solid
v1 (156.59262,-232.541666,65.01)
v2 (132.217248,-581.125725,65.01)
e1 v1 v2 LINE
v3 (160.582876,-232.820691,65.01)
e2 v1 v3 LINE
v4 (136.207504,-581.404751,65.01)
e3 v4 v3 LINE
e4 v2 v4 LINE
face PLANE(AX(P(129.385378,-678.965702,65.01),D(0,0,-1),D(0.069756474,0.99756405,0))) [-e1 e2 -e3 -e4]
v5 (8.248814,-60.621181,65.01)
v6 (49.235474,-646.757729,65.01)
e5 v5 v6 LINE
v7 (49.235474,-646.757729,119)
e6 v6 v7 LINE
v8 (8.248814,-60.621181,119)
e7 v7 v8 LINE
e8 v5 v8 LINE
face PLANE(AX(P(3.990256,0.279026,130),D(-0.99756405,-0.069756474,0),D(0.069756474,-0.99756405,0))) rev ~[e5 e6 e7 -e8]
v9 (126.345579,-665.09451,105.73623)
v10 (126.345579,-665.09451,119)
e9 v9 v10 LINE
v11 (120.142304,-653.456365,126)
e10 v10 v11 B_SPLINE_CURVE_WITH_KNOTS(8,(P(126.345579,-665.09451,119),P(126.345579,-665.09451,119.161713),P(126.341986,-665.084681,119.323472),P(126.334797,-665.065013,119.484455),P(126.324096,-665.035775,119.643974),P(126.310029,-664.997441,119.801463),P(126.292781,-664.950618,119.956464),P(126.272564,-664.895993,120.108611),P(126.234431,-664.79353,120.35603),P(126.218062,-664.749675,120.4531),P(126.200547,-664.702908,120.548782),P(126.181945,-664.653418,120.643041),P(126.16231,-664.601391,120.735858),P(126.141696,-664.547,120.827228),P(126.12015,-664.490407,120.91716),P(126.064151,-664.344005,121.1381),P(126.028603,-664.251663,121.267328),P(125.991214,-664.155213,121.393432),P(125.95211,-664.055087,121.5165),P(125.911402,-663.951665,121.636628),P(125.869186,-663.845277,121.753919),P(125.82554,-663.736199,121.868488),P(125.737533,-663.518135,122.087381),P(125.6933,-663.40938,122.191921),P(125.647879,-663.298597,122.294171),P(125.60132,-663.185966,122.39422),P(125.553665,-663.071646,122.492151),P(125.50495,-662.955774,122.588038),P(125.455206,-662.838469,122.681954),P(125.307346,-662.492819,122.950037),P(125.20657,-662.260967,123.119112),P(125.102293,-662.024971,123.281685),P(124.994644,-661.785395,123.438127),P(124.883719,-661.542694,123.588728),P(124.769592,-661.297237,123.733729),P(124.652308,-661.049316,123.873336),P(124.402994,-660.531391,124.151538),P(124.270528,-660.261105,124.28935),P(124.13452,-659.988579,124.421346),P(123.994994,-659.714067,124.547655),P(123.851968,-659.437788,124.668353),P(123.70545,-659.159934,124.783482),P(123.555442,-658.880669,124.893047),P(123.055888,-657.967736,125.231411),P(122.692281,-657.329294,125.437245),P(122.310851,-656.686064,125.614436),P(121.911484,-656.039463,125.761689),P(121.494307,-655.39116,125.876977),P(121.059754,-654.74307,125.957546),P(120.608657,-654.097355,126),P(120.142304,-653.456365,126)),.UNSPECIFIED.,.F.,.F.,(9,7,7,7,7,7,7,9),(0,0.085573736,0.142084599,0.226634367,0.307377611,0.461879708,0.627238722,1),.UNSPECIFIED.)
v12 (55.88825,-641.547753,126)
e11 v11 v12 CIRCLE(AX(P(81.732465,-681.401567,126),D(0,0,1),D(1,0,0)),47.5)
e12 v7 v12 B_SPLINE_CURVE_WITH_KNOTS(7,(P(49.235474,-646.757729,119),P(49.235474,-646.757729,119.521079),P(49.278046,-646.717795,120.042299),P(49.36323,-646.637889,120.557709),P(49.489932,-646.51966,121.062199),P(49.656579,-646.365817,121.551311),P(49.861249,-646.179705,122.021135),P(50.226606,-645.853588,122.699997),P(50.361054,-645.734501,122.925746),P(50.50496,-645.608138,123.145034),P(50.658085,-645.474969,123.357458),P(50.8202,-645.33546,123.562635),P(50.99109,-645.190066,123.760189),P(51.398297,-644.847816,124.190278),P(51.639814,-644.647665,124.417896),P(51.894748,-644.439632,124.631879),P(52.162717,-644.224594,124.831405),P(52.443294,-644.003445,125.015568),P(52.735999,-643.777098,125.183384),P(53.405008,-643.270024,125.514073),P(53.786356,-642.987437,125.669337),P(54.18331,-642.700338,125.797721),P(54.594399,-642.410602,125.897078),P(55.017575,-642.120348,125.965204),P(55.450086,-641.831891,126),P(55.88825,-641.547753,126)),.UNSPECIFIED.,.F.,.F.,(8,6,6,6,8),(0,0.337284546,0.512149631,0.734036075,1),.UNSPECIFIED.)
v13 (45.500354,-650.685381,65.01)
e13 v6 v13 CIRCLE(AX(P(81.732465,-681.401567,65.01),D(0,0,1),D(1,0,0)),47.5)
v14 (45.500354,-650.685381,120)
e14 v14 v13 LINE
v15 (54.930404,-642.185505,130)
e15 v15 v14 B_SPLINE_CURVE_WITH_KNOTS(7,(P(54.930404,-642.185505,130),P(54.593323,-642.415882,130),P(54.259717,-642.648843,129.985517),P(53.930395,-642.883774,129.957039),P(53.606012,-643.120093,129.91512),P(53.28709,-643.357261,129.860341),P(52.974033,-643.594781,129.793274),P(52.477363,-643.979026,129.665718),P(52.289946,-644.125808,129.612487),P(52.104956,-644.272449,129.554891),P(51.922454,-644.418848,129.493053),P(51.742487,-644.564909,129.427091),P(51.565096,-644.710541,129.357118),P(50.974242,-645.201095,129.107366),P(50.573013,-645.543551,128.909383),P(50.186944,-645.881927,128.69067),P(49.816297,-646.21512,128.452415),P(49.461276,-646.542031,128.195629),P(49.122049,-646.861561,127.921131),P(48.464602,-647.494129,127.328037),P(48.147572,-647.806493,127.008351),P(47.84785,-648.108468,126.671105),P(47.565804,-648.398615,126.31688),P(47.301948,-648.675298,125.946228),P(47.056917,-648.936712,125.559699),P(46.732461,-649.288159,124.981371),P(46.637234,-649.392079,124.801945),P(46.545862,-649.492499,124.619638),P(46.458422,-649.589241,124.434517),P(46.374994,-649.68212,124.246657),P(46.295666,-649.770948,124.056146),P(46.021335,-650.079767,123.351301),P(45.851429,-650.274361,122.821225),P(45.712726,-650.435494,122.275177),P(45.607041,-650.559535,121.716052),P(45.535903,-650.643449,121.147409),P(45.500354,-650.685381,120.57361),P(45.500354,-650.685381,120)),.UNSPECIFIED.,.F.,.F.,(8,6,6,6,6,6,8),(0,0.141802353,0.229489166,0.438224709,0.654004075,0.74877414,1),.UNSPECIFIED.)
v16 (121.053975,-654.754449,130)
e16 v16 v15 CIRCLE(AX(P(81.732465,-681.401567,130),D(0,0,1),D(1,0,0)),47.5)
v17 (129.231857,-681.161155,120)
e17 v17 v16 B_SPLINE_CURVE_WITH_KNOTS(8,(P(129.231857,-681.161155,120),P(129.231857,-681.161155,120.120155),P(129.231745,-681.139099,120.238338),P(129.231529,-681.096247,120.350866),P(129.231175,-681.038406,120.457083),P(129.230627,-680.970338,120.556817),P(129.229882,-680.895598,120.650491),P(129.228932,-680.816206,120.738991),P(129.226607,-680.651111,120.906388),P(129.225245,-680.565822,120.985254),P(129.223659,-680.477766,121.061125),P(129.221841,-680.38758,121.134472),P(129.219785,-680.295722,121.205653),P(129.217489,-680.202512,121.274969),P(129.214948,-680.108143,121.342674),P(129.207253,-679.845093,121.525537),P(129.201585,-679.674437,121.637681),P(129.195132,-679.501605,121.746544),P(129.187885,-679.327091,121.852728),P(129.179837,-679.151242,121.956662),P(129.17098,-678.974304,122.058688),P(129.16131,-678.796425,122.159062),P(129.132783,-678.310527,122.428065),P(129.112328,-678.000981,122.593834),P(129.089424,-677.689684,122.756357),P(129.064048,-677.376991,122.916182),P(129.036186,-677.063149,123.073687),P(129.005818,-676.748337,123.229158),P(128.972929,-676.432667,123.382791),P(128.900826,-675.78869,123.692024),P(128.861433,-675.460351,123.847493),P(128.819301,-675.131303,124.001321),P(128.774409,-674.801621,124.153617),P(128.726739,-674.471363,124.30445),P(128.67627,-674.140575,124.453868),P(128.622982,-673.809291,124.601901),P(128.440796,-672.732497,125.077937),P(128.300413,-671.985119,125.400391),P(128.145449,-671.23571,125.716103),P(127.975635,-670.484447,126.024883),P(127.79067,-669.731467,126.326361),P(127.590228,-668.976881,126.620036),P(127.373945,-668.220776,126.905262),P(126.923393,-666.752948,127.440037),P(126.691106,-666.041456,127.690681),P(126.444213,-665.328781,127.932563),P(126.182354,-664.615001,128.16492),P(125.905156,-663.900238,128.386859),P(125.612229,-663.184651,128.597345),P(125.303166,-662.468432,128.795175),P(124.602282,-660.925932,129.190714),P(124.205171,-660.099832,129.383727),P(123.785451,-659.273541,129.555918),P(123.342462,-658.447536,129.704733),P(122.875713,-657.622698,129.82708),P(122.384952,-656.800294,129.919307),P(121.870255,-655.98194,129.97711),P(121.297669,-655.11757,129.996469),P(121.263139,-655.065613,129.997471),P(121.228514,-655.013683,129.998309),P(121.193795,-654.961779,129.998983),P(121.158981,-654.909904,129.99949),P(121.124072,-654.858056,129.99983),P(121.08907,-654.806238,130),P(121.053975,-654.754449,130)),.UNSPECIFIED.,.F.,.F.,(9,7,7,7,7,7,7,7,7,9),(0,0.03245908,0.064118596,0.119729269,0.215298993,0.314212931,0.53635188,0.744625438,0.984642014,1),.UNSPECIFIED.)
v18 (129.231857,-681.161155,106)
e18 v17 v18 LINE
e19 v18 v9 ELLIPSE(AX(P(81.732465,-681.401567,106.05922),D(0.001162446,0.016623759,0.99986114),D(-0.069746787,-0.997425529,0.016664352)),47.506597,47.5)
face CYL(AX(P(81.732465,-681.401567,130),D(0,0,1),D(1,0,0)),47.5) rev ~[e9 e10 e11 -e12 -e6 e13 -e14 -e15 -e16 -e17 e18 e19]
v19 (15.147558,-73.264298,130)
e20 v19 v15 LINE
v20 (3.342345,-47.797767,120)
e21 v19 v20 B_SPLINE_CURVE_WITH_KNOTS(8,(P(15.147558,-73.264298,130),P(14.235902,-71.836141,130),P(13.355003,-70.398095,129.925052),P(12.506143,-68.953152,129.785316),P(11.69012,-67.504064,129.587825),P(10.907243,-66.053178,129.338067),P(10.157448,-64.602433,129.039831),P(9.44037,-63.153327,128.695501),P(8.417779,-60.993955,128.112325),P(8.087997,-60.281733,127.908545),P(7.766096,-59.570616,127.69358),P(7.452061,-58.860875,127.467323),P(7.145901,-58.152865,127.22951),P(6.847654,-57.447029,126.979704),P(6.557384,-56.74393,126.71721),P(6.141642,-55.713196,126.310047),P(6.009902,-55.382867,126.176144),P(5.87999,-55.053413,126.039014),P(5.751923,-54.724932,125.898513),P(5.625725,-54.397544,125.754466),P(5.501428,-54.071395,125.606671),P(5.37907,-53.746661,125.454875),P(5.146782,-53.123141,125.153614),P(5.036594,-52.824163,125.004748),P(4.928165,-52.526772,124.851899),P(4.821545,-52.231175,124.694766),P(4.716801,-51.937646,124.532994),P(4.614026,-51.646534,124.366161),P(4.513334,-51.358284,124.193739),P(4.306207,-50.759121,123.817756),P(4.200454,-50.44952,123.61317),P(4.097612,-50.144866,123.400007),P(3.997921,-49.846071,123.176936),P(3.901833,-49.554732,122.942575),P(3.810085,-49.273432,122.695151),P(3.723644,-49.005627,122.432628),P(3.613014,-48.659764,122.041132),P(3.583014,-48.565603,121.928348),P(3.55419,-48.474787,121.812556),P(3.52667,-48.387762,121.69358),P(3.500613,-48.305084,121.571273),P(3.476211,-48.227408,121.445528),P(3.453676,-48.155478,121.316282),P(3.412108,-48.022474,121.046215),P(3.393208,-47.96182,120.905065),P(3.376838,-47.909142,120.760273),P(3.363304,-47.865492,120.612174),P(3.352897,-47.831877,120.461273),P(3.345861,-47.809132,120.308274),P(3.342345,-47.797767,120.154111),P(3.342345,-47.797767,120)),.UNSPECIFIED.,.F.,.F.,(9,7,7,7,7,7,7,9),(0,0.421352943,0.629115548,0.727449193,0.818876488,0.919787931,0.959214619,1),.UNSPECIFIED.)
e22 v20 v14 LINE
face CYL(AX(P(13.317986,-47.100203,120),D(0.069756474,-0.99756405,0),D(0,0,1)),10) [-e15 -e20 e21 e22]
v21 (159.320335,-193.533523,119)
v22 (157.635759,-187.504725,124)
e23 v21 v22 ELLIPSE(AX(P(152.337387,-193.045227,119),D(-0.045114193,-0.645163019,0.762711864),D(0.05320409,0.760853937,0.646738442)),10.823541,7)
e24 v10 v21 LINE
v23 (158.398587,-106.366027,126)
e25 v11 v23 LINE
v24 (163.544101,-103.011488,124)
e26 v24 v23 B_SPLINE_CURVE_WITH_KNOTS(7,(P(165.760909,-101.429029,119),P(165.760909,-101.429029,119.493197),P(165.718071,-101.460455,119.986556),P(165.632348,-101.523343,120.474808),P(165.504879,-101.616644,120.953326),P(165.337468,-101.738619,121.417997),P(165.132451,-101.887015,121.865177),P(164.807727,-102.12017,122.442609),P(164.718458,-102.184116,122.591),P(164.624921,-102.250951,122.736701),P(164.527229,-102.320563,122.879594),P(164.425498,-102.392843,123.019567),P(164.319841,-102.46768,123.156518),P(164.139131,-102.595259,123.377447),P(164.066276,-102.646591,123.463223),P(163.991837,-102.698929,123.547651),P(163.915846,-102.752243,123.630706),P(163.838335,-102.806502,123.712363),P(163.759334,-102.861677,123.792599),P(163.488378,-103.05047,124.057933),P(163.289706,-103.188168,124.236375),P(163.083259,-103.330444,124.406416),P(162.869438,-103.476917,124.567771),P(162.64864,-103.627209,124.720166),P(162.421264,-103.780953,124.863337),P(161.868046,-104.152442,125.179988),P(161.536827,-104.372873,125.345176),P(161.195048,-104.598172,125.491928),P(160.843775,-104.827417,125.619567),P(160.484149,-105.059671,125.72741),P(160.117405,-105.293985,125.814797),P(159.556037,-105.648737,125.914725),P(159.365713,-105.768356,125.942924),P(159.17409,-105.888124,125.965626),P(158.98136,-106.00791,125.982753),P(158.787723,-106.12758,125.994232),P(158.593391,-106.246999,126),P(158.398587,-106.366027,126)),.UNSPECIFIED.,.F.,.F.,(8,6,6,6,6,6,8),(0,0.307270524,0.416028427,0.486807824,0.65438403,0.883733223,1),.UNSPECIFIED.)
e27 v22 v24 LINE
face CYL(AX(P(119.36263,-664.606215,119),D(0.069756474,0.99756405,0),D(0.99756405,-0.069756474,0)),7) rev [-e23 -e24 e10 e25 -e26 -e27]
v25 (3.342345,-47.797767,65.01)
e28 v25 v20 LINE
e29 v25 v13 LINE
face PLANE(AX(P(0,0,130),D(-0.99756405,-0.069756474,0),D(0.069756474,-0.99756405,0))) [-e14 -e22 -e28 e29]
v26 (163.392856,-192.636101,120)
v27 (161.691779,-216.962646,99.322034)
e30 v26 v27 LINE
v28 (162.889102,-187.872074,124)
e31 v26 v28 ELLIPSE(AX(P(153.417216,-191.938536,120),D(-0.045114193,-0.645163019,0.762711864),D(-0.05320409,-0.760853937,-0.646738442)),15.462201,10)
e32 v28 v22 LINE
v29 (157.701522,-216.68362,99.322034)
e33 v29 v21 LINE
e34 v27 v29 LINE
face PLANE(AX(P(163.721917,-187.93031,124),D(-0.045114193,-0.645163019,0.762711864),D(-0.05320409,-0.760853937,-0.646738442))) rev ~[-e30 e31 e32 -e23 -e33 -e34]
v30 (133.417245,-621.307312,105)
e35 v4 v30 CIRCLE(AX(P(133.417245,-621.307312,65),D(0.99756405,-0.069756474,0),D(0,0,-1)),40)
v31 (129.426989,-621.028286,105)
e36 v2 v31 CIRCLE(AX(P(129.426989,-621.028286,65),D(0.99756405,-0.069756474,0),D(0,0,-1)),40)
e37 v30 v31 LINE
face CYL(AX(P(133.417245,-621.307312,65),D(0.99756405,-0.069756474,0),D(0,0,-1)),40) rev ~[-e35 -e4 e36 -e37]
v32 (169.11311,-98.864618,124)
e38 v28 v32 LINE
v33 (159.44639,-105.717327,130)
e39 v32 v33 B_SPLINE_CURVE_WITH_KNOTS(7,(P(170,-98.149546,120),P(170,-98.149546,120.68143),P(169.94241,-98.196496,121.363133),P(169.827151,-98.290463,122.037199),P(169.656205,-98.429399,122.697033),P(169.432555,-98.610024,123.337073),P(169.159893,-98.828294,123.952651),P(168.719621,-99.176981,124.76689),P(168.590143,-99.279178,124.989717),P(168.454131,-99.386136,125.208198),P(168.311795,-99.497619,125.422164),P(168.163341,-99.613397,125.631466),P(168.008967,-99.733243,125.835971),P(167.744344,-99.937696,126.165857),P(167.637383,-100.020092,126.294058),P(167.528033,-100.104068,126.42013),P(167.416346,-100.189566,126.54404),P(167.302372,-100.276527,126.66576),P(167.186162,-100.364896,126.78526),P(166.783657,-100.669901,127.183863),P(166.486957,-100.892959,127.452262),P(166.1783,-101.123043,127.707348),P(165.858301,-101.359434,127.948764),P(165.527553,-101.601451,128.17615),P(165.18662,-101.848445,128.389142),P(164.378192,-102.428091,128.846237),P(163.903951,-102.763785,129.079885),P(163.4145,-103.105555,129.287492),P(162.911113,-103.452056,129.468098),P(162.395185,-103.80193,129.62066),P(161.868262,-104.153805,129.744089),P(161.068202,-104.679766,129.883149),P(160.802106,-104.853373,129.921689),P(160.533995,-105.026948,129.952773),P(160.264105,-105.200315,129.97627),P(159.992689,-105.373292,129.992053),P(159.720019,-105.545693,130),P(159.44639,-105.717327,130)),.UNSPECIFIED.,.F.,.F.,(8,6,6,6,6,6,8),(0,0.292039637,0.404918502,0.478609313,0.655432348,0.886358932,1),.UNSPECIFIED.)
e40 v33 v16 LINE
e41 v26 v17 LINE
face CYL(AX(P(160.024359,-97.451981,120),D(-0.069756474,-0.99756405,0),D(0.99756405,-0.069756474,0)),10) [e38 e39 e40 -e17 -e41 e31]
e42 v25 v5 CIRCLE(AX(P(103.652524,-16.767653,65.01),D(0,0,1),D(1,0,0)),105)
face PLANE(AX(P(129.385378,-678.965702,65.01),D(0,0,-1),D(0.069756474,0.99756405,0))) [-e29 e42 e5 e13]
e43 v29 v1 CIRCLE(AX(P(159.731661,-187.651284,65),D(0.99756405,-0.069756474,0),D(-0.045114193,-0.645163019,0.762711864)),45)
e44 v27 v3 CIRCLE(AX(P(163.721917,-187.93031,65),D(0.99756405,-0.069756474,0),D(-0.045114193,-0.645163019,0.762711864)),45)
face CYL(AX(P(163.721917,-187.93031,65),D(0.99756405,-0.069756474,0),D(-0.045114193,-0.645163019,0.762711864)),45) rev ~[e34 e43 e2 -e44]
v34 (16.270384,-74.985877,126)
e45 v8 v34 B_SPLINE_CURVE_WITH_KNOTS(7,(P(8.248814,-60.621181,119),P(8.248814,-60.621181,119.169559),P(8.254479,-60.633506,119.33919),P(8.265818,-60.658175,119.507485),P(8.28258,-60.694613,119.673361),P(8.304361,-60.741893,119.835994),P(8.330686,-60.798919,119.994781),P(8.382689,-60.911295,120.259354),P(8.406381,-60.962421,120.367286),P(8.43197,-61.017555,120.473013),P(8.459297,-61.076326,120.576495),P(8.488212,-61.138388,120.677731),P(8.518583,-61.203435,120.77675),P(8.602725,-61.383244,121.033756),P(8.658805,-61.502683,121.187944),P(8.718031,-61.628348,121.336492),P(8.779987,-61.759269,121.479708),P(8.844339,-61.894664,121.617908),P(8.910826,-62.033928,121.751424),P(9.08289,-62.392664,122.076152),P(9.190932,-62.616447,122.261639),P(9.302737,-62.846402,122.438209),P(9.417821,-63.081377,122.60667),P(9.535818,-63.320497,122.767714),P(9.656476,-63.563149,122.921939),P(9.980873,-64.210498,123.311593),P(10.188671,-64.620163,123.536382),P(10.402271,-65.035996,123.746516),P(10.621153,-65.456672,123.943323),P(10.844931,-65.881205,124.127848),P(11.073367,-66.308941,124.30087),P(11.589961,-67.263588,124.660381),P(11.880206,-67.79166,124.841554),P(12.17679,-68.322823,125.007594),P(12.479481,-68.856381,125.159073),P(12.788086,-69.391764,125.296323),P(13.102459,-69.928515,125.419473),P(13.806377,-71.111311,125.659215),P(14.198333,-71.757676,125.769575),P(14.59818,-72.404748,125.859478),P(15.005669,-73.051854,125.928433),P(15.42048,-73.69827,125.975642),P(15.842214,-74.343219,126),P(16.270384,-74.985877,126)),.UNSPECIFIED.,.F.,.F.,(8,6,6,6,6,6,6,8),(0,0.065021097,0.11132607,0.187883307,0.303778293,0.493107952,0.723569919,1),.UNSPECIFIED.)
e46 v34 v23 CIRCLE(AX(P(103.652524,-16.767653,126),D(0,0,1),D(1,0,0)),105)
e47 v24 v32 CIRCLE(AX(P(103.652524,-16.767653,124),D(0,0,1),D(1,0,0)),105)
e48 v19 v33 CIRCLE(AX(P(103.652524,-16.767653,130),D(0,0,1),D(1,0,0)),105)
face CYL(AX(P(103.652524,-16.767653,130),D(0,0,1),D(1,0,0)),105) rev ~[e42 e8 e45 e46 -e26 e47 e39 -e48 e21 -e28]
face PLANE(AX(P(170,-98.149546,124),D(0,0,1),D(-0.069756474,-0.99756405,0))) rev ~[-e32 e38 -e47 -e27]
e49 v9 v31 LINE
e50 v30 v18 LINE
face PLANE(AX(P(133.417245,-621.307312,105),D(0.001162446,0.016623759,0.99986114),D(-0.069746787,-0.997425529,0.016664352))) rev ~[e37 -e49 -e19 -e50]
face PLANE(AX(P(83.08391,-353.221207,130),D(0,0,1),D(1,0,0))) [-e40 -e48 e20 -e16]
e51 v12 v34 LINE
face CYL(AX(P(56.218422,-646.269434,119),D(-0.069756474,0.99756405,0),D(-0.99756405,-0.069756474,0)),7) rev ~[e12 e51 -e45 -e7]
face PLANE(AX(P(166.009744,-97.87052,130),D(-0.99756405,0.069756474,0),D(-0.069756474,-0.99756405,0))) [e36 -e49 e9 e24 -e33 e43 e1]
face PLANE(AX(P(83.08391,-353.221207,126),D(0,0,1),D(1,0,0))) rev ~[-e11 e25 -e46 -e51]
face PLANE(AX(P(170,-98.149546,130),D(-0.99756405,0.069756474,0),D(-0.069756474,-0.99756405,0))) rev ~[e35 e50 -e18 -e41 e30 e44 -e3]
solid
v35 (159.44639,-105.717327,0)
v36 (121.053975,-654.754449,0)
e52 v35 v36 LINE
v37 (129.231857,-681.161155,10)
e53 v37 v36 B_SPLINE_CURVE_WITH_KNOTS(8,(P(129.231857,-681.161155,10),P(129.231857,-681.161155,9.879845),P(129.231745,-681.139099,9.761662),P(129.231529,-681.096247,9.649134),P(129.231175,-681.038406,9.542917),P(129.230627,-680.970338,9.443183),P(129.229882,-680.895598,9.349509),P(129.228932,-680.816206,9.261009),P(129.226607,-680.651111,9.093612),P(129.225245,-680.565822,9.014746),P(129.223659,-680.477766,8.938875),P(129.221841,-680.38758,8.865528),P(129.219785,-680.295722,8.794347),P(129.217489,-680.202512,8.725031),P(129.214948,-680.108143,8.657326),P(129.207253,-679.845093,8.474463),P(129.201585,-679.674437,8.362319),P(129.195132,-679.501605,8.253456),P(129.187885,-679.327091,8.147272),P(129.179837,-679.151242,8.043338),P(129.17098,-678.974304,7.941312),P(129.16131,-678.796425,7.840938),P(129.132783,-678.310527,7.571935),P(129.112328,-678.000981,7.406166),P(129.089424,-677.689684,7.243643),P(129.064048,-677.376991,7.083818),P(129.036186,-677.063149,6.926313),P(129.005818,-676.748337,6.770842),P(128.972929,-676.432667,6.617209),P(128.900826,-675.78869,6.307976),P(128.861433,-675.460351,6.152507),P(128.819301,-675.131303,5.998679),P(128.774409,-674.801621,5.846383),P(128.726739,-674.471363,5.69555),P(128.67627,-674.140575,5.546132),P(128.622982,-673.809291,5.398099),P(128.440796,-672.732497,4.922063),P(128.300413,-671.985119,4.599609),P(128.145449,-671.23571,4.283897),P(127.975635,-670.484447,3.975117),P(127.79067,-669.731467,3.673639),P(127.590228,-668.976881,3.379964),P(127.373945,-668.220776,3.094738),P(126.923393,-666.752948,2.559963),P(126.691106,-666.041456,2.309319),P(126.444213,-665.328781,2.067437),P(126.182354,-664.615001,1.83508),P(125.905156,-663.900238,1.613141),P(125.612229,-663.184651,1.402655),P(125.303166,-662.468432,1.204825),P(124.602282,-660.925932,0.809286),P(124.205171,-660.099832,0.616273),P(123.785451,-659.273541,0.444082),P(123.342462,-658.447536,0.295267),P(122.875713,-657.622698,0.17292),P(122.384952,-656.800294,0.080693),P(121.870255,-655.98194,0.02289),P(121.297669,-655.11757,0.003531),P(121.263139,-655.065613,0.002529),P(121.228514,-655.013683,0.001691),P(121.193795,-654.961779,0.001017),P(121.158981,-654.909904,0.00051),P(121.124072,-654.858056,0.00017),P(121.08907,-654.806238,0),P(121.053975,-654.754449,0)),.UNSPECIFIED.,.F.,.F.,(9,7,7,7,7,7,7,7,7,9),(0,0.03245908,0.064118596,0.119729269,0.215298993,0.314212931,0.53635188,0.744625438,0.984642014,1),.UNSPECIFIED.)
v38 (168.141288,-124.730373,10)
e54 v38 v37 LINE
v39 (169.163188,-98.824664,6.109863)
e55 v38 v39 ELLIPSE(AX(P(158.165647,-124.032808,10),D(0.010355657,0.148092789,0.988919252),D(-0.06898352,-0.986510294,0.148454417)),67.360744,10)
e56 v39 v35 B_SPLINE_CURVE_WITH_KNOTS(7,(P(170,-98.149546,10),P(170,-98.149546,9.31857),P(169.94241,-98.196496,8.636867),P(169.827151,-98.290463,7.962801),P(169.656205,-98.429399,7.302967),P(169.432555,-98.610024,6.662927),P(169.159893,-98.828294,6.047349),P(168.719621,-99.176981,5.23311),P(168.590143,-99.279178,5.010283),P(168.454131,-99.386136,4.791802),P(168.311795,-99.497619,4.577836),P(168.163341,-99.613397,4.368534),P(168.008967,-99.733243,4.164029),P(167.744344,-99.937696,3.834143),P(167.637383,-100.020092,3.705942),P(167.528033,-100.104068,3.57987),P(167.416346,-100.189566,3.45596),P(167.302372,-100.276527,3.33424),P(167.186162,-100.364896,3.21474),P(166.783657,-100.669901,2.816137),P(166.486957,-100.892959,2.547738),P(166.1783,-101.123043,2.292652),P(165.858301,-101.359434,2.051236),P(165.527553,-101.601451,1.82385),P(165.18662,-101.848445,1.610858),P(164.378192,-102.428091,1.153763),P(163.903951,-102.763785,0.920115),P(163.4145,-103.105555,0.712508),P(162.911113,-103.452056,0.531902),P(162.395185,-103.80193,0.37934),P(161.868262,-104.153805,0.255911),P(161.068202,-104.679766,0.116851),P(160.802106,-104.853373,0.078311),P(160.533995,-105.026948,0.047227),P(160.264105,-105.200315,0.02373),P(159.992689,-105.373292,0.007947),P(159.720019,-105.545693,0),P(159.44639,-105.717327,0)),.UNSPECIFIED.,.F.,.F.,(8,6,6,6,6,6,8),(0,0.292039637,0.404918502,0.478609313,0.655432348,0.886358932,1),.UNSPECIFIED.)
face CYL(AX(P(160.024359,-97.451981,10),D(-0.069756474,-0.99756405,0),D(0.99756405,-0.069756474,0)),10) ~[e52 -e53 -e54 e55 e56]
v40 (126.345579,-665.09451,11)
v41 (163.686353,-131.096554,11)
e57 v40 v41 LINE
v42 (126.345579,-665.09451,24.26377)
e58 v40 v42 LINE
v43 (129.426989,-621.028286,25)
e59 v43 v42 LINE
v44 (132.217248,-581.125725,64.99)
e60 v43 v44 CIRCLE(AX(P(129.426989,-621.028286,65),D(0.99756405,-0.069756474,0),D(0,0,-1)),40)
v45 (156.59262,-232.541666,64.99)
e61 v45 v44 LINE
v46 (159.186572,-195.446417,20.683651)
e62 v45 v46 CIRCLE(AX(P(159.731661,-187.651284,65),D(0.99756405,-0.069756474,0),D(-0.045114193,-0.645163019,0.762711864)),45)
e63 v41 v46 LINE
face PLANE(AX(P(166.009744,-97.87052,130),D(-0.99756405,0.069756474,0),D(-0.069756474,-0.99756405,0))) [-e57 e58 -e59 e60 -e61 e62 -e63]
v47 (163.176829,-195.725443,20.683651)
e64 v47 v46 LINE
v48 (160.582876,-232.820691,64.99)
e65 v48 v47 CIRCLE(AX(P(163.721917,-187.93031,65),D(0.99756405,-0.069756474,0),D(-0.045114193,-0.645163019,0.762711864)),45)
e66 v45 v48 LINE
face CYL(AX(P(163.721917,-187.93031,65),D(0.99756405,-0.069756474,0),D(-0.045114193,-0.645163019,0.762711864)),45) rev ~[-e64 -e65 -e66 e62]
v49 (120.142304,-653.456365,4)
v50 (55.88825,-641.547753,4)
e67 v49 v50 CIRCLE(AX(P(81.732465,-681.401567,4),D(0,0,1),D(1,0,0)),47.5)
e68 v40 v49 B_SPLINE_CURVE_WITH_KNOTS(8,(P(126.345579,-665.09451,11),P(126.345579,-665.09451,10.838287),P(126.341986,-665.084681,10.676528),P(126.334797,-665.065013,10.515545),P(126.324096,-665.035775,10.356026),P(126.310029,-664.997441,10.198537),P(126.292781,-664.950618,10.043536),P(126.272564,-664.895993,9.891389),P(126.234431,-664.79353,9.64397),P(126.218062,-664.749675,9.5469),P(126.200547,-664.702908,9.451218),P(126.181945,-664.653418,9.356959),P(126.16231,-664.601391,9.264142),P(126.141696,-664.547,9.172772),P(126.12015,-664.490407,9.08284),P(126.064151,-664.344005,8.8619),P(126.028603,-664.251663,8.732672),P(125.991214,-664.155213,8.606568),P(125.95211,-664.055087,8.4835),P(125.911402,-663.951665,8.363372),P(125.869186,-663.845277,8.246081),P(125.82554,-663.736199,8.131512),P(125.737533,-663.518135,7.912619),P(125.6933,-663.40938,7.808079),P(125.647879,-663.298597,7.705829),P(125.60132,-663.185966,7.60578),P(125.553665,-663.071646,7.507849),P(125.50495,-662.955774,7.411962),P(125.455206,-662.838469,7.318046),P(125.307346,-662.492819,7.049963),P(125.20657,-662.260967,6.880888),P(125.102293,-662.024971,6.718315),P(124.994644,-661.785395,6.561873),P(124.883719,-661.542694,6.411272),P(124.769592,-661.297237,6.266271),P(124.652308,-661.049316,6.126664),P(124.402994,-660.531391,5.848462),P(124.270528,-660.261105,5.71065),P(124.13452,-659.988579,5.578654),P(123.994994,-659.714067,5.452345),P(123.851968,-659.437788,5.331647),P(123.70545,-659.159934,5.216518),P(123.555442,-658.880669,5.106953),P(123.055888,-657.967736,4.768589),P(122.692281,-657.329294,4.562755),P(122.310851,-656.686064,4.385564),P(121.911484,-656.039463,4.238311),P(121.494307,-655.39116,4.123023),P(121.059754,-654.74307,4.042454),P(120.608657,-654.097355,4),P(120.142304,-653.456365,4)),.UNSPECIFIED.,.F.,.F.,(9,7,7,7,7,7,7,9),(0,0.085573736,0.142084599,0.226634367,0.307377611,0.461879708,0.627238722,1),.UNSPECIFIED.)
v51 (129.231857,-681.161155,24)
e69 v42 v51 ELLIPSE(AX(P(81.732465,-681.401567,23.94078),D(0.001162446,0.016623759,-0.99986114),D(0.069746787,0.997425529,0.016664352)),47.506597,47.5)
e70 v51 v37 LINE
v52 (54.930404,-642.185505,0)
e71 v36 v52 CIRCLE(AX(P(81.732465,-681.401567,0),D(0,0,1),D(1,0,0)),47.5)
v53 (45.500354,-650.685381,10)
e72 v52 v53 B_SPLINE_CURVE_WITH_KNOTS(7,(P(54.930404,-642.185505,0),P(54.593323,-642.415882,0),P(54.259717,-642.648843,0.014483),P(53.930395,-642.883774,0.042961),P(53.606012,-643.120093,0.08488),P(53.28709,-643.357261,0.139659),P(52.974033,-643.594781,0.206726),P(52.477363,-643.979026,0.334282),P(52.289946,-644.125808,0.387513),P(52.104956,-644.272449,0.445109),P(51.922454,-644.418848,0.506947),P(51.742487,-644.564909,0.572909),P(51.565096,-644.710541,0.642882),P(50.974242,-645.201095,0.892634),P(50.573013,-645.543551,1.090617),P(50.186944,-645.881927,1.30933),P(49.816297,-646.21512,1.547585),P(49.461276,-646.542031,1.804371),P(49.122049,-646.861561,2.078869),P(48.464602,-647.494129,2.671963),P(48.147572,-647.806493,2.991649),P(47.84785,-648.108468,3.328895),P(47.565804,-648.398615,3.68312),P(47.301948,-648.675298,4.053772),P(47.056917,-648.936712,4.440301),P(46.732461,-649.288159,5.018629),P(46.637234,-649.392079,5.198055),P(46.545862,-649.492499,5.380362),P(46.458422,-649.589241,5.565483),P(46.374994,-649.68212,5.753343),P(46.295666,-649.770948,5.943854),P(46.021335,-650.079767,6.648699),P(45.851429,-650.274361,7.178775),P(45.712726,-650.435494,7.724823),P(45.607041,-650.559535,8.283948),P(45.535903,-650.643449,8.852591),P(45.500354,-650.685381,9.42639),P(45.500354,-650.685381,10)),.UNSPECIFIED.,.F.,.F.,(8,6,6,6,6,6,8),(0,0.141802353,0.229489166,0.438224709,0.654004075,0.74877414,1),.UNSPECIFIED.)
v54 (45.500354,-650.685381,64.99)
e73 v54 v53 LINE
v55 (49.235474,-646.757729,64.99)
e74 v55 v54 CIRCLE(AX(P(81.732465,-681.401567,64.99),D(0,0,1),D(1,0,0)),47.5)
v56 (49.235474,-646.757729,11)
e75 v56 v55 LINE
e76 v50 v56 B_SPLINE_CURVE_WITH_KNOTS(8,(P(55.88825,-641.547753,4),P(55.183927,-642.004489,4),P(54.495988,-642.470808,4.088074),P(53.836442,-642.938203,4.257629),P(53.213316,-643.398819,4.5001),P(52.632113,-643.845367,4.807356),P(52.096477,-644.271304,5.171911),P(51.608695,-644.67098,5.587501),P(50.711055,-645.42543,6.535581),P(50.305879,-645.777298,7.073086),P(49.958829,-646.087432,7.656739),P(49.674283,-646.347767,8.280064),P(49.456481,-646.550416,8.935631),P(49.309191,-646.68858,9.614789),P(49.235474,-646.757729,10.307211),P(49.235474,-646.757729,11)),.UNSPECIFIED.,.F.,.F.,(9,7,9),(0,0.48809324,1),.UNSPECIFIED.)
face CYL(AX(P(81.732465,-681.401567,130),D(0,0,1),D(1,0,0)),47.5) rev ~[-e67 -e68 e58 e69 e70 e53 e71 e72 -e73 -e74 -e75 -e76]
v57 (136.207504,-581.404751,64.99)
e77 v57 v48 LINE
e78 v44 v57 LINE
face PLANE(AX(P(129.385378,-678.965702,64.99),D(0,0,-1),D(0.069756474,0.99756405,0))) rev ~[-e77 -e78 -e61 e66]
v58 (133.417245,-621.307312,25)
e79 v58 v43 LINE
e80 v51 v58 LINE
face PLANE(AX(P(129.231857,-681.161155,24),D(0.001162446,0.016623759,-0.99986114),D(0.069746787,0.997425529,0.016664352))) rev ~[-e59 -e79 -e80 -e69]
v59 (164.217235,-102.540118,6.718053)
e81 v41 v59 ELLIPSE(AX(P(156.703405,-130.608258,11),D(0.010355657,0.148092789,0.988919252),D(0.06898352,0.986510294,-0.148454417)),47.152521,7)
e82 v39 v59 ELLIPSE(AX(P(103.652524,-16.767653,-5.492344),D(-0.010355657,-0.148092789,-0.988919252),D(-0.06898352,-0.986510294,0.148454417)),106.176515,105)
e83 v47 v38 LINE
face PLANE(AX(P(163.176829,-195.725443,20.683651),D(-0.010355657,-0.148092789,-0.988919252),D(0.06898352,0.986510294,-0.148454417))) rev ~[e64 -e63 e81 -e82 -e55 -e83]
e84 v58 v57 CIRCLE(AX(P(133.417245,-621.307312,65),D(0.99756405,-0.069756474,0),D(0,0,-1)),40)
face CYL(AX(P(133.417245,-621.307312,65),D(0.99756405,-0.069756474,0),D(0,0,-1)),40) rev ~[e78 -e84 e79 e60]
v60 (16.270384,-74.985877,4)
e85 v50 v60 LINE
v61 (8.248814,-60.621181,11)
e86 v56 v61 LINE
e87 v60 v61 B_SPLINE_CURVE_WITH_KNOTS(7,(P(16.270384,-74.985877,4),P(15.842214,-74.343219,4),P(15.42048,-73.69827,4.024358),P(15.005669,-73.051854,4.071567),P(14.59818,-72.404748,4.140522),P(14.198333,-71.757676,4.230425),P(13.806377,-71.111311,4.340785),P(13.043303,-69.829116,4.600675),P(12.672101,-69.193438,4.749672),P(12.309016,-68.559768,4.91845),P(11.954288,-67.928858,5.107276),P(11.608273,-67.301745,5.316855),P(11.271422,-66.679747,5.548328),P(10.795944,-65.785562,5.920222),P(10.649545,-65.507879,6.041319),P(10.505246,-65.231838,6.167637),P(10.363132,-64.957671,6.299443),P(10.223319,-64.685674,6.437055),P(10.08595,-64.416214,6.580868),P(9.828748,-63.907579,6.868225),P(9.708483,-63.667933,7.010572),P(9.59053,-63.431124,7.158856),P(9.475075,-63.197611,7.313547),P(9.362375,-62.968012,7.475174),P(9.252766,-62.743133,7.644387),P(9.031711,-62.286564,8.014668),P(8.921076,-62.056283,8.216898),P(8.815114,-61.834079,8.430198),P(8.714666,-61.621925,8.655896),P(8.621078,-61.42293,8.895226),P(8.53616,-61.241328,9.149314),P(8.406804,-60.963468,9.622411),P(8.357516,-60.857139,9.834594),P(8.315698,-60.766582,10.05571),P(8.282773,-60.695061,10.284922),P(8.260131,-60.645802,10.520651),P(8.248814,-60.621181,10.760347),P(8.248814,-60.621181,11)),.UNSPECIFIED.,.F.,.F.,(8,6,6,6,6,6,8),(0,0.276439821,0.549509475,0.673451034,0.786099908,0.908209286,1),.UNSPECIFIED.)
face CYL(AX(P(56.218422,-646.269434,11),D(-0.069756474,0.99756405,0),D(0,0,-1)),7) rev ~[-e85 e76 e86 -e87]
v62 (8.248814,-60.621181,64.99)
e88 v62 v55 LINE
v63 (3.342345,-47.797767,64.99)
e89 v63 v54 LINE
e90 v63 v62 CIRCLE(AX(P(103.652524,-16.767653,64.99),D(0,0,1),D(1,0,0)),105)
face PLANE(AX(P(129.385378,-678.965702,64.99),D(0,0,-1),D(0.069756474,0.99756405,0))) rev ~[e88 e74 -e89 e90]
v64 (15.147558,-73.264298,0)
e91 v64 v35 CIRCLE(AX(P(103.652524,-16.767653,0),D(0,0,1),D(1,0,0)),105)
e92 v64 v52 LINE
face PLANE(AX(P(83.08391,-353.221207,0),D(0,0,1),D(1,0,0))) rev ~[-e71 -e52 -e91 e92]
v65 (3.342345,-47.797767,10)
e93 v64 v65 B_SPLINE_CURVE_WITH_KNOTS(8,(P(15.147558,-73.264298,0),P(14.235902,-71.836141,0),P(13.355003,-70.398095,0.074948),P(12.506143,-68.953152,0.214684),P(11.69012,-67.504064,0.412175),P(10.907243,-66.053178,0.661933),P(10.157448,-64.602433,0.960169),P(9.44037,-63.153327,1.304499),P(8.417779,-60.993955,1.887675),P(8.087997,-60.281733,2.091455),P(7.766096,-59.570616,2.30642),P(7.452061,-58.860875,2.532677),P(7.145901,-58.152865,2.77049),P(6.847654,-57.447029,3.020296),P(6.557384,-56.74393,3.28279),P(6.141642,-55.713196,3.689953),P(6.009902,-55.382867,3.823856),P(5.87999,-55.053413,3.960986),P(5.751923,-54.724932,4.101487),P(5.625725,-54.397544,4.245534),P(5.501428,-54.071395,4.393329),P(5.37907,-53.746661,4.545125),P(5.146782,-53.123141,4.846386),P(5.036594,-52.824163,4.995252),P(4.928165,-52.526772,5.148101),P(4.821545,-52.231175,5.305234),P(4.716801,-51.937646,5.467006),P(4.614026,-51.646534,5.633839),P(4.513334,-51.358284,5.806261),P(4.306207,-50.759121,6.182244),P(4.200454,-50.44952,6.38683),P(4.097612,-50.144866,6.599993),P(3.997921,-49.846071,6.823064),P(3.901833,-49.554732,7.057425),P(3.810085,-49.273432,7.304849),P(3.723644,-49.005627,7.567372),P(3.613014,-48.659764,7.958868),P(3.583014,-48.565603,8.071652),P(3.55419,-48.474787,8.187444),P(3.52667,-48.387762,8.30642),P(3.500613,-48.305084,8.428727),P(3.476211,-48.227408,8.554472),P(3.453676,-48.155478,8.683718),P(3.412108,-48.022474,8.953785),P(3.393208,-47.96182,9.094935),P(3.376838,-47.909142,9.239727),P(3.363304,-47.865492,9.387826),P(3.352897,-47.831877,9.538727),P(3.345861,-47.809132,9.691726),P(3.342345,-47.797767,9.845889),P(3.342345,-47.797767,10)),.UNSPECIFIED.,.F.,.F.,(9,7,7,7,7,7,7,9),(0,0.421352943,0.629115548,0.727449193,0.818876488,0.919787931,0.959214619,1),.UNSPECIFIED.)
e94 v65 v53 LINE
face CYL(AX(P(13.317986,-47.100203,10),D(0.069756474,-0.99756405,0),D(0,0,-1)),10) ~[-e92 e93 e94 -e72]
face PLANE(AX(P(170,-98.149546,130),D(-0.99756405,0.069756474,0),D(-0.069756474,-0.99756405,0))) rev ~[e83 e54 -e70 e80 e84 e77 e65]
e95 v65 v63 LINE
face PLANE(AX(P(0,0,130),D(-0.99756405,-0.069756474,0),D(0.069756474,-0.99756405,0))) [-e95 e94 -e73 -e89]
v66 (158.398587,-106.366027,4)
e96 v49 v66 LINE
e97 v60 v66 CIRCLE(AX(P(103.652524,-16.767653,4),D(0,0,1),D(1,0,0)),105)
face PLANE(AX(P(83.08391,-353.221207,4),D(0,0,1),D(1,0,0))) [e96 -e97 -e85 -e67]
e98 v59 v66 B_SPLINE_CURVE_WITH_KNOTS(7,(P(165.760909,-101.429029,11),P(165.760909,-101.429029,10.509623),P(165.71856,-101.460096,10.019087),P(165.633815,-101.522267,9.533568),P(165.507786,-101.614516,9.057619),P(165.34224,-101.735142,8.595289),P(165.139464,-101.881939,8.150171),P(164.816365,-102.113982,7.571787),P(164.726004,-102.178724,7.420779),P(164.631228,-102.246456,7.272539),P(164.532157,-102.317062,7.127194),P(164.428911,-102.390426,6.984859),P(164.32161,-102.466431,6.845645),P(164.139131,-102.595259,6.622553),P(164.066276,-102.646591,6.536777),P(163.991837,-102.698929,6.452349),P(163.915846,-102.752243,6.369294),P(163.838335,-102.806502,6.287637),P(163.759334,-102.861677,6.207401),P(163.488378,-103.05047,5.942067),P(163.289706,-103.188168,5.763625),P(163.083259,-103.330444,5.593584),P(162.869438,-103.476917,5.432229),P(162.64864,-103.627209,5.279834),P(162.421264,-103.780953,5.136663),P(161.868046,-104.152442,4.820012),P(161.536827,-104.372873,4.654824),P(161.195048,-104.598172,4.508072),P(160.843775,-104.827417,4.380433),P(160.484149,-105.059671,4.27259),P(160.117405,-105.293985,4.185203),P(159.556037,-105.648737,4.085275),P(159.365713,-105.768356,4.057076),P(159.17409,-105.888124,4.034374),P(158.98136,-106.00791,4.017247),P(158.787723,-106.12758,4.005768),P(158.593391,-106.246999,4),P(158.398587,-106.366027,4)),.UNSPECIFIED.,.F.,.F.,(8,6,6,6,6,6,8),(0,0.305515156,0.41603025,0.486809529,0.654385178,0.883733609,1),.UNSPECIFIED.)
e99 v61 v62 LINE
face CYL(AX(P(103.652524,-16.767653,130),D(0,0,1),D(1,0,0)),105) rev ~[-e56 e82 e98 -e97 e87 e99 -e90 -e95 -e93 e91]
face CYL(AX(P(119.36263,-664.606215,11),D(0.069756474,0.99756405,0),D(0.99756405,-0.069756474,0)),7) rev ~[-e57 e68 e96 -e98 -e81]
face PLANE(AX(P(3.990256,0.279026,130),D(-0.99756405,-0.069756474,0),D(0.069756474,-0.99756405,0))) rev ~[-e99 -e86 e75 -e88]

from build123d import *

# Parameters (mm, degrees)
EXTRUDE_1_DEPTH      = 130
CUT_EXTRUDE_2_DEPTH  = 150
SHELL_2_T            = -4
SKETCH_5_R           = 105
CUT_EXTRUDE_3_DEPTH  = 160
CUT_EXTRUDE_12_DEPTH = 19
SKETCH_7_R           = 47.5
CUT_EXTRUDE_16_DEPTH = 714.989159073
FILLET_8_R           = 10
FILLET_9_R           = 10
CUT_EXTRUDE_21_DEPTH = 41
FILLET_10_R          = 7
SKETCH_37_W          = 0.02
SKETCH_37_H          = 620.838123288
CUT_EXTRUDE_22_DEPTH = 703.906153721


with BuildPart() as part:
    # 草图1 → 拉伸1 (new body)
    with BuildSketch(Plane.XY):
        Polygon((0, 0), (0, -634.124605937), (170, -695.999545762), (170, -98.149545762), align=None)
    extrude(amount=EXTRUDE_1_DEPTH)

    # 草图4 → 切除-拉伸2 (cut)
    with BuildSketch(Plane.XY.offset(130)):
        Polygon((0, 0), (45.500354239, -650.685380528), (0, -634.124605937), align=None)
        Polygon((170, -98.149545762), (129.23185683, -681.161155142), (170, -695.999545762), align=None)
    extrude(amount=-CUT_EXTRUDE_2_DEPTH, mode=Mode.SUBTRACT)

    # 抽壳2
    shell_2_openings = [part.faces().sort_by_distance(p)[0] for p in [
        (87.366105534, -665.923267835, 65),
        (85, -49.074772881, 65),
    ]]
    offset(amount=SHELL_2_T, openings=shell_2_openings, kind=Kind.INTERSECTION)

    # 草图5 → 切除-拉伸3 (cut)
    with BuildSketch(Plane.XY.offset(130)):
        with Locations((103.652524405, -16.767652923)):
            Circle(SKETCH_5_R)
    extrude(amount=-CUT_EXTRUDE_3_DEPTH, mode=Mode.SUBTRACT)

    # 草图23 → 切除-拉伸12 (cut)
    with BuildSketch(Plane(origin=(176.002674164, -12.307305898, 0), x_dir=(0, 0, -1), z_dir=(0.9975640502598249, -0.06975647374411818, 0))):
        with BuildLine():
            Line((-124, -86.051857865), (-124, -176.051857865))
            Line((-124, -176.051857865), (-99.322033898, -205.155087739))
            ThreePointArc((-99.322033898, -205.155087739), (-53.240849438, -219.488275513), (-20.683651114, -183.86602586))
            Line((-20.683651114, -183.86602586), (-6, -86.051857865))
            Line((-6, -86.051857865), (-124, -86.051857865))
        make_face()
    extrude(amount=-CUT_EXTRUDE_12_DEPTH, mode=Mode.SUBTRACT)

    # 草图7 → 切除-拉伸16 (cut, through all)
    with BuildSketch(Plane.XY.offset(130)):
        with Locations((81.732465234, -681.401567349)):
            Circle(SKETCH_7_R)
    extrude(amount=-CUT_EXTRUDE_16_DEPTH, mode=Mode.SUBTRACT)

    # 圆角8
    fillet_8_edges = [part.edges().sort_by_distance(p)[0] for p in [
        (24.421349867, -349.241573986, 0),
        (149.615928415, -389.655350452, 0),
    ]]
    fillet(fillet_8_edges, radius=FILLET_8_R)

    # 圆角9
    fillet_9_edges = [part.edges().sort_by_distance(p)[0] for p in [
        (24.421349867, -349.241573986, 130),
        (149.615928415, -389.655350452, 130),
    ]]
    fillet(fillet_9_edges, radius=FILLET_9_R)

    # 草图36 → 切除-拉伸21 (cut)
    with BuildSketch(Plane(origin=(176.002674164, -12.307305898, 0), x_dir=(0, 0, -1), z_dir=(0.9975640502598248, -0.06975647374411817, 0))):
        with BuildLine():
            Line((-105, -610.487122175), (-106, -670.487122175))
            Line((-106, -670.487122175), (-24, -670.487122175))
            Line((-24, -670.487122175), (-25, -610.487122175))
            ThreePointArc((-25, -610.487122175), (-65, -570.487122175), (-105, -610.487122175))
        make_face()
    extrude(amount=-CUT_EXTRUDE_21_DEPTH, mode=Mode.SUBTRACT)

    # 圆角10
    fillet_10_edges = [part.edges().sort_by_distance(p)[0] for p in [
        (146.053243557, -383.261769485, 4),
        (28.742143608, -353.68945513, 4),
        (146.053243557, -383.261769485, 126),
        (28.742143608, -353.68945513, 126),
    ]]
    fillet(fillet_10_edges, radius=FILLET_10_R)

    # 草图37 → 切除-拉伸22 (cut, through all)
    with BuildSketch(Plane(origin=(176.002674164, -12.307305898, 0), x_dir=(0, 0, -1), z_dir=(0.9975640502598248, -0.06975647374411821, 0))):
        with Locations((-65, -357.867245893)):
            Rectangle(SKETCH_37_W, SKETCH_37_H)
    extrude(amount=-CUT_EXTRUDE_22_DEPTH, mode=Mode.SUBTRACT)


with BuildPart() as cut_extrude_22_piece_1:
    # of the separate pieces the step leaves, piece 1, a body of its own (cut_extrude_22_pieces)
    add(part.part.solids().sort_by_distance((126.345578519, -665.094509888, 11))[0])


with BuildPart() as cut_extrude_22_piece_2:
    # of the separate pieces the step leaves, piece 2, a body of its own (cut_extrude_22_pieces)
    add(part.part.solids().sort_by_distance((49.235473677, -646.75772894, 65.01))[0])


solid = Compound([cut_extrude_22_piece_1.part, cut_extrude_22_piece_2.part])
